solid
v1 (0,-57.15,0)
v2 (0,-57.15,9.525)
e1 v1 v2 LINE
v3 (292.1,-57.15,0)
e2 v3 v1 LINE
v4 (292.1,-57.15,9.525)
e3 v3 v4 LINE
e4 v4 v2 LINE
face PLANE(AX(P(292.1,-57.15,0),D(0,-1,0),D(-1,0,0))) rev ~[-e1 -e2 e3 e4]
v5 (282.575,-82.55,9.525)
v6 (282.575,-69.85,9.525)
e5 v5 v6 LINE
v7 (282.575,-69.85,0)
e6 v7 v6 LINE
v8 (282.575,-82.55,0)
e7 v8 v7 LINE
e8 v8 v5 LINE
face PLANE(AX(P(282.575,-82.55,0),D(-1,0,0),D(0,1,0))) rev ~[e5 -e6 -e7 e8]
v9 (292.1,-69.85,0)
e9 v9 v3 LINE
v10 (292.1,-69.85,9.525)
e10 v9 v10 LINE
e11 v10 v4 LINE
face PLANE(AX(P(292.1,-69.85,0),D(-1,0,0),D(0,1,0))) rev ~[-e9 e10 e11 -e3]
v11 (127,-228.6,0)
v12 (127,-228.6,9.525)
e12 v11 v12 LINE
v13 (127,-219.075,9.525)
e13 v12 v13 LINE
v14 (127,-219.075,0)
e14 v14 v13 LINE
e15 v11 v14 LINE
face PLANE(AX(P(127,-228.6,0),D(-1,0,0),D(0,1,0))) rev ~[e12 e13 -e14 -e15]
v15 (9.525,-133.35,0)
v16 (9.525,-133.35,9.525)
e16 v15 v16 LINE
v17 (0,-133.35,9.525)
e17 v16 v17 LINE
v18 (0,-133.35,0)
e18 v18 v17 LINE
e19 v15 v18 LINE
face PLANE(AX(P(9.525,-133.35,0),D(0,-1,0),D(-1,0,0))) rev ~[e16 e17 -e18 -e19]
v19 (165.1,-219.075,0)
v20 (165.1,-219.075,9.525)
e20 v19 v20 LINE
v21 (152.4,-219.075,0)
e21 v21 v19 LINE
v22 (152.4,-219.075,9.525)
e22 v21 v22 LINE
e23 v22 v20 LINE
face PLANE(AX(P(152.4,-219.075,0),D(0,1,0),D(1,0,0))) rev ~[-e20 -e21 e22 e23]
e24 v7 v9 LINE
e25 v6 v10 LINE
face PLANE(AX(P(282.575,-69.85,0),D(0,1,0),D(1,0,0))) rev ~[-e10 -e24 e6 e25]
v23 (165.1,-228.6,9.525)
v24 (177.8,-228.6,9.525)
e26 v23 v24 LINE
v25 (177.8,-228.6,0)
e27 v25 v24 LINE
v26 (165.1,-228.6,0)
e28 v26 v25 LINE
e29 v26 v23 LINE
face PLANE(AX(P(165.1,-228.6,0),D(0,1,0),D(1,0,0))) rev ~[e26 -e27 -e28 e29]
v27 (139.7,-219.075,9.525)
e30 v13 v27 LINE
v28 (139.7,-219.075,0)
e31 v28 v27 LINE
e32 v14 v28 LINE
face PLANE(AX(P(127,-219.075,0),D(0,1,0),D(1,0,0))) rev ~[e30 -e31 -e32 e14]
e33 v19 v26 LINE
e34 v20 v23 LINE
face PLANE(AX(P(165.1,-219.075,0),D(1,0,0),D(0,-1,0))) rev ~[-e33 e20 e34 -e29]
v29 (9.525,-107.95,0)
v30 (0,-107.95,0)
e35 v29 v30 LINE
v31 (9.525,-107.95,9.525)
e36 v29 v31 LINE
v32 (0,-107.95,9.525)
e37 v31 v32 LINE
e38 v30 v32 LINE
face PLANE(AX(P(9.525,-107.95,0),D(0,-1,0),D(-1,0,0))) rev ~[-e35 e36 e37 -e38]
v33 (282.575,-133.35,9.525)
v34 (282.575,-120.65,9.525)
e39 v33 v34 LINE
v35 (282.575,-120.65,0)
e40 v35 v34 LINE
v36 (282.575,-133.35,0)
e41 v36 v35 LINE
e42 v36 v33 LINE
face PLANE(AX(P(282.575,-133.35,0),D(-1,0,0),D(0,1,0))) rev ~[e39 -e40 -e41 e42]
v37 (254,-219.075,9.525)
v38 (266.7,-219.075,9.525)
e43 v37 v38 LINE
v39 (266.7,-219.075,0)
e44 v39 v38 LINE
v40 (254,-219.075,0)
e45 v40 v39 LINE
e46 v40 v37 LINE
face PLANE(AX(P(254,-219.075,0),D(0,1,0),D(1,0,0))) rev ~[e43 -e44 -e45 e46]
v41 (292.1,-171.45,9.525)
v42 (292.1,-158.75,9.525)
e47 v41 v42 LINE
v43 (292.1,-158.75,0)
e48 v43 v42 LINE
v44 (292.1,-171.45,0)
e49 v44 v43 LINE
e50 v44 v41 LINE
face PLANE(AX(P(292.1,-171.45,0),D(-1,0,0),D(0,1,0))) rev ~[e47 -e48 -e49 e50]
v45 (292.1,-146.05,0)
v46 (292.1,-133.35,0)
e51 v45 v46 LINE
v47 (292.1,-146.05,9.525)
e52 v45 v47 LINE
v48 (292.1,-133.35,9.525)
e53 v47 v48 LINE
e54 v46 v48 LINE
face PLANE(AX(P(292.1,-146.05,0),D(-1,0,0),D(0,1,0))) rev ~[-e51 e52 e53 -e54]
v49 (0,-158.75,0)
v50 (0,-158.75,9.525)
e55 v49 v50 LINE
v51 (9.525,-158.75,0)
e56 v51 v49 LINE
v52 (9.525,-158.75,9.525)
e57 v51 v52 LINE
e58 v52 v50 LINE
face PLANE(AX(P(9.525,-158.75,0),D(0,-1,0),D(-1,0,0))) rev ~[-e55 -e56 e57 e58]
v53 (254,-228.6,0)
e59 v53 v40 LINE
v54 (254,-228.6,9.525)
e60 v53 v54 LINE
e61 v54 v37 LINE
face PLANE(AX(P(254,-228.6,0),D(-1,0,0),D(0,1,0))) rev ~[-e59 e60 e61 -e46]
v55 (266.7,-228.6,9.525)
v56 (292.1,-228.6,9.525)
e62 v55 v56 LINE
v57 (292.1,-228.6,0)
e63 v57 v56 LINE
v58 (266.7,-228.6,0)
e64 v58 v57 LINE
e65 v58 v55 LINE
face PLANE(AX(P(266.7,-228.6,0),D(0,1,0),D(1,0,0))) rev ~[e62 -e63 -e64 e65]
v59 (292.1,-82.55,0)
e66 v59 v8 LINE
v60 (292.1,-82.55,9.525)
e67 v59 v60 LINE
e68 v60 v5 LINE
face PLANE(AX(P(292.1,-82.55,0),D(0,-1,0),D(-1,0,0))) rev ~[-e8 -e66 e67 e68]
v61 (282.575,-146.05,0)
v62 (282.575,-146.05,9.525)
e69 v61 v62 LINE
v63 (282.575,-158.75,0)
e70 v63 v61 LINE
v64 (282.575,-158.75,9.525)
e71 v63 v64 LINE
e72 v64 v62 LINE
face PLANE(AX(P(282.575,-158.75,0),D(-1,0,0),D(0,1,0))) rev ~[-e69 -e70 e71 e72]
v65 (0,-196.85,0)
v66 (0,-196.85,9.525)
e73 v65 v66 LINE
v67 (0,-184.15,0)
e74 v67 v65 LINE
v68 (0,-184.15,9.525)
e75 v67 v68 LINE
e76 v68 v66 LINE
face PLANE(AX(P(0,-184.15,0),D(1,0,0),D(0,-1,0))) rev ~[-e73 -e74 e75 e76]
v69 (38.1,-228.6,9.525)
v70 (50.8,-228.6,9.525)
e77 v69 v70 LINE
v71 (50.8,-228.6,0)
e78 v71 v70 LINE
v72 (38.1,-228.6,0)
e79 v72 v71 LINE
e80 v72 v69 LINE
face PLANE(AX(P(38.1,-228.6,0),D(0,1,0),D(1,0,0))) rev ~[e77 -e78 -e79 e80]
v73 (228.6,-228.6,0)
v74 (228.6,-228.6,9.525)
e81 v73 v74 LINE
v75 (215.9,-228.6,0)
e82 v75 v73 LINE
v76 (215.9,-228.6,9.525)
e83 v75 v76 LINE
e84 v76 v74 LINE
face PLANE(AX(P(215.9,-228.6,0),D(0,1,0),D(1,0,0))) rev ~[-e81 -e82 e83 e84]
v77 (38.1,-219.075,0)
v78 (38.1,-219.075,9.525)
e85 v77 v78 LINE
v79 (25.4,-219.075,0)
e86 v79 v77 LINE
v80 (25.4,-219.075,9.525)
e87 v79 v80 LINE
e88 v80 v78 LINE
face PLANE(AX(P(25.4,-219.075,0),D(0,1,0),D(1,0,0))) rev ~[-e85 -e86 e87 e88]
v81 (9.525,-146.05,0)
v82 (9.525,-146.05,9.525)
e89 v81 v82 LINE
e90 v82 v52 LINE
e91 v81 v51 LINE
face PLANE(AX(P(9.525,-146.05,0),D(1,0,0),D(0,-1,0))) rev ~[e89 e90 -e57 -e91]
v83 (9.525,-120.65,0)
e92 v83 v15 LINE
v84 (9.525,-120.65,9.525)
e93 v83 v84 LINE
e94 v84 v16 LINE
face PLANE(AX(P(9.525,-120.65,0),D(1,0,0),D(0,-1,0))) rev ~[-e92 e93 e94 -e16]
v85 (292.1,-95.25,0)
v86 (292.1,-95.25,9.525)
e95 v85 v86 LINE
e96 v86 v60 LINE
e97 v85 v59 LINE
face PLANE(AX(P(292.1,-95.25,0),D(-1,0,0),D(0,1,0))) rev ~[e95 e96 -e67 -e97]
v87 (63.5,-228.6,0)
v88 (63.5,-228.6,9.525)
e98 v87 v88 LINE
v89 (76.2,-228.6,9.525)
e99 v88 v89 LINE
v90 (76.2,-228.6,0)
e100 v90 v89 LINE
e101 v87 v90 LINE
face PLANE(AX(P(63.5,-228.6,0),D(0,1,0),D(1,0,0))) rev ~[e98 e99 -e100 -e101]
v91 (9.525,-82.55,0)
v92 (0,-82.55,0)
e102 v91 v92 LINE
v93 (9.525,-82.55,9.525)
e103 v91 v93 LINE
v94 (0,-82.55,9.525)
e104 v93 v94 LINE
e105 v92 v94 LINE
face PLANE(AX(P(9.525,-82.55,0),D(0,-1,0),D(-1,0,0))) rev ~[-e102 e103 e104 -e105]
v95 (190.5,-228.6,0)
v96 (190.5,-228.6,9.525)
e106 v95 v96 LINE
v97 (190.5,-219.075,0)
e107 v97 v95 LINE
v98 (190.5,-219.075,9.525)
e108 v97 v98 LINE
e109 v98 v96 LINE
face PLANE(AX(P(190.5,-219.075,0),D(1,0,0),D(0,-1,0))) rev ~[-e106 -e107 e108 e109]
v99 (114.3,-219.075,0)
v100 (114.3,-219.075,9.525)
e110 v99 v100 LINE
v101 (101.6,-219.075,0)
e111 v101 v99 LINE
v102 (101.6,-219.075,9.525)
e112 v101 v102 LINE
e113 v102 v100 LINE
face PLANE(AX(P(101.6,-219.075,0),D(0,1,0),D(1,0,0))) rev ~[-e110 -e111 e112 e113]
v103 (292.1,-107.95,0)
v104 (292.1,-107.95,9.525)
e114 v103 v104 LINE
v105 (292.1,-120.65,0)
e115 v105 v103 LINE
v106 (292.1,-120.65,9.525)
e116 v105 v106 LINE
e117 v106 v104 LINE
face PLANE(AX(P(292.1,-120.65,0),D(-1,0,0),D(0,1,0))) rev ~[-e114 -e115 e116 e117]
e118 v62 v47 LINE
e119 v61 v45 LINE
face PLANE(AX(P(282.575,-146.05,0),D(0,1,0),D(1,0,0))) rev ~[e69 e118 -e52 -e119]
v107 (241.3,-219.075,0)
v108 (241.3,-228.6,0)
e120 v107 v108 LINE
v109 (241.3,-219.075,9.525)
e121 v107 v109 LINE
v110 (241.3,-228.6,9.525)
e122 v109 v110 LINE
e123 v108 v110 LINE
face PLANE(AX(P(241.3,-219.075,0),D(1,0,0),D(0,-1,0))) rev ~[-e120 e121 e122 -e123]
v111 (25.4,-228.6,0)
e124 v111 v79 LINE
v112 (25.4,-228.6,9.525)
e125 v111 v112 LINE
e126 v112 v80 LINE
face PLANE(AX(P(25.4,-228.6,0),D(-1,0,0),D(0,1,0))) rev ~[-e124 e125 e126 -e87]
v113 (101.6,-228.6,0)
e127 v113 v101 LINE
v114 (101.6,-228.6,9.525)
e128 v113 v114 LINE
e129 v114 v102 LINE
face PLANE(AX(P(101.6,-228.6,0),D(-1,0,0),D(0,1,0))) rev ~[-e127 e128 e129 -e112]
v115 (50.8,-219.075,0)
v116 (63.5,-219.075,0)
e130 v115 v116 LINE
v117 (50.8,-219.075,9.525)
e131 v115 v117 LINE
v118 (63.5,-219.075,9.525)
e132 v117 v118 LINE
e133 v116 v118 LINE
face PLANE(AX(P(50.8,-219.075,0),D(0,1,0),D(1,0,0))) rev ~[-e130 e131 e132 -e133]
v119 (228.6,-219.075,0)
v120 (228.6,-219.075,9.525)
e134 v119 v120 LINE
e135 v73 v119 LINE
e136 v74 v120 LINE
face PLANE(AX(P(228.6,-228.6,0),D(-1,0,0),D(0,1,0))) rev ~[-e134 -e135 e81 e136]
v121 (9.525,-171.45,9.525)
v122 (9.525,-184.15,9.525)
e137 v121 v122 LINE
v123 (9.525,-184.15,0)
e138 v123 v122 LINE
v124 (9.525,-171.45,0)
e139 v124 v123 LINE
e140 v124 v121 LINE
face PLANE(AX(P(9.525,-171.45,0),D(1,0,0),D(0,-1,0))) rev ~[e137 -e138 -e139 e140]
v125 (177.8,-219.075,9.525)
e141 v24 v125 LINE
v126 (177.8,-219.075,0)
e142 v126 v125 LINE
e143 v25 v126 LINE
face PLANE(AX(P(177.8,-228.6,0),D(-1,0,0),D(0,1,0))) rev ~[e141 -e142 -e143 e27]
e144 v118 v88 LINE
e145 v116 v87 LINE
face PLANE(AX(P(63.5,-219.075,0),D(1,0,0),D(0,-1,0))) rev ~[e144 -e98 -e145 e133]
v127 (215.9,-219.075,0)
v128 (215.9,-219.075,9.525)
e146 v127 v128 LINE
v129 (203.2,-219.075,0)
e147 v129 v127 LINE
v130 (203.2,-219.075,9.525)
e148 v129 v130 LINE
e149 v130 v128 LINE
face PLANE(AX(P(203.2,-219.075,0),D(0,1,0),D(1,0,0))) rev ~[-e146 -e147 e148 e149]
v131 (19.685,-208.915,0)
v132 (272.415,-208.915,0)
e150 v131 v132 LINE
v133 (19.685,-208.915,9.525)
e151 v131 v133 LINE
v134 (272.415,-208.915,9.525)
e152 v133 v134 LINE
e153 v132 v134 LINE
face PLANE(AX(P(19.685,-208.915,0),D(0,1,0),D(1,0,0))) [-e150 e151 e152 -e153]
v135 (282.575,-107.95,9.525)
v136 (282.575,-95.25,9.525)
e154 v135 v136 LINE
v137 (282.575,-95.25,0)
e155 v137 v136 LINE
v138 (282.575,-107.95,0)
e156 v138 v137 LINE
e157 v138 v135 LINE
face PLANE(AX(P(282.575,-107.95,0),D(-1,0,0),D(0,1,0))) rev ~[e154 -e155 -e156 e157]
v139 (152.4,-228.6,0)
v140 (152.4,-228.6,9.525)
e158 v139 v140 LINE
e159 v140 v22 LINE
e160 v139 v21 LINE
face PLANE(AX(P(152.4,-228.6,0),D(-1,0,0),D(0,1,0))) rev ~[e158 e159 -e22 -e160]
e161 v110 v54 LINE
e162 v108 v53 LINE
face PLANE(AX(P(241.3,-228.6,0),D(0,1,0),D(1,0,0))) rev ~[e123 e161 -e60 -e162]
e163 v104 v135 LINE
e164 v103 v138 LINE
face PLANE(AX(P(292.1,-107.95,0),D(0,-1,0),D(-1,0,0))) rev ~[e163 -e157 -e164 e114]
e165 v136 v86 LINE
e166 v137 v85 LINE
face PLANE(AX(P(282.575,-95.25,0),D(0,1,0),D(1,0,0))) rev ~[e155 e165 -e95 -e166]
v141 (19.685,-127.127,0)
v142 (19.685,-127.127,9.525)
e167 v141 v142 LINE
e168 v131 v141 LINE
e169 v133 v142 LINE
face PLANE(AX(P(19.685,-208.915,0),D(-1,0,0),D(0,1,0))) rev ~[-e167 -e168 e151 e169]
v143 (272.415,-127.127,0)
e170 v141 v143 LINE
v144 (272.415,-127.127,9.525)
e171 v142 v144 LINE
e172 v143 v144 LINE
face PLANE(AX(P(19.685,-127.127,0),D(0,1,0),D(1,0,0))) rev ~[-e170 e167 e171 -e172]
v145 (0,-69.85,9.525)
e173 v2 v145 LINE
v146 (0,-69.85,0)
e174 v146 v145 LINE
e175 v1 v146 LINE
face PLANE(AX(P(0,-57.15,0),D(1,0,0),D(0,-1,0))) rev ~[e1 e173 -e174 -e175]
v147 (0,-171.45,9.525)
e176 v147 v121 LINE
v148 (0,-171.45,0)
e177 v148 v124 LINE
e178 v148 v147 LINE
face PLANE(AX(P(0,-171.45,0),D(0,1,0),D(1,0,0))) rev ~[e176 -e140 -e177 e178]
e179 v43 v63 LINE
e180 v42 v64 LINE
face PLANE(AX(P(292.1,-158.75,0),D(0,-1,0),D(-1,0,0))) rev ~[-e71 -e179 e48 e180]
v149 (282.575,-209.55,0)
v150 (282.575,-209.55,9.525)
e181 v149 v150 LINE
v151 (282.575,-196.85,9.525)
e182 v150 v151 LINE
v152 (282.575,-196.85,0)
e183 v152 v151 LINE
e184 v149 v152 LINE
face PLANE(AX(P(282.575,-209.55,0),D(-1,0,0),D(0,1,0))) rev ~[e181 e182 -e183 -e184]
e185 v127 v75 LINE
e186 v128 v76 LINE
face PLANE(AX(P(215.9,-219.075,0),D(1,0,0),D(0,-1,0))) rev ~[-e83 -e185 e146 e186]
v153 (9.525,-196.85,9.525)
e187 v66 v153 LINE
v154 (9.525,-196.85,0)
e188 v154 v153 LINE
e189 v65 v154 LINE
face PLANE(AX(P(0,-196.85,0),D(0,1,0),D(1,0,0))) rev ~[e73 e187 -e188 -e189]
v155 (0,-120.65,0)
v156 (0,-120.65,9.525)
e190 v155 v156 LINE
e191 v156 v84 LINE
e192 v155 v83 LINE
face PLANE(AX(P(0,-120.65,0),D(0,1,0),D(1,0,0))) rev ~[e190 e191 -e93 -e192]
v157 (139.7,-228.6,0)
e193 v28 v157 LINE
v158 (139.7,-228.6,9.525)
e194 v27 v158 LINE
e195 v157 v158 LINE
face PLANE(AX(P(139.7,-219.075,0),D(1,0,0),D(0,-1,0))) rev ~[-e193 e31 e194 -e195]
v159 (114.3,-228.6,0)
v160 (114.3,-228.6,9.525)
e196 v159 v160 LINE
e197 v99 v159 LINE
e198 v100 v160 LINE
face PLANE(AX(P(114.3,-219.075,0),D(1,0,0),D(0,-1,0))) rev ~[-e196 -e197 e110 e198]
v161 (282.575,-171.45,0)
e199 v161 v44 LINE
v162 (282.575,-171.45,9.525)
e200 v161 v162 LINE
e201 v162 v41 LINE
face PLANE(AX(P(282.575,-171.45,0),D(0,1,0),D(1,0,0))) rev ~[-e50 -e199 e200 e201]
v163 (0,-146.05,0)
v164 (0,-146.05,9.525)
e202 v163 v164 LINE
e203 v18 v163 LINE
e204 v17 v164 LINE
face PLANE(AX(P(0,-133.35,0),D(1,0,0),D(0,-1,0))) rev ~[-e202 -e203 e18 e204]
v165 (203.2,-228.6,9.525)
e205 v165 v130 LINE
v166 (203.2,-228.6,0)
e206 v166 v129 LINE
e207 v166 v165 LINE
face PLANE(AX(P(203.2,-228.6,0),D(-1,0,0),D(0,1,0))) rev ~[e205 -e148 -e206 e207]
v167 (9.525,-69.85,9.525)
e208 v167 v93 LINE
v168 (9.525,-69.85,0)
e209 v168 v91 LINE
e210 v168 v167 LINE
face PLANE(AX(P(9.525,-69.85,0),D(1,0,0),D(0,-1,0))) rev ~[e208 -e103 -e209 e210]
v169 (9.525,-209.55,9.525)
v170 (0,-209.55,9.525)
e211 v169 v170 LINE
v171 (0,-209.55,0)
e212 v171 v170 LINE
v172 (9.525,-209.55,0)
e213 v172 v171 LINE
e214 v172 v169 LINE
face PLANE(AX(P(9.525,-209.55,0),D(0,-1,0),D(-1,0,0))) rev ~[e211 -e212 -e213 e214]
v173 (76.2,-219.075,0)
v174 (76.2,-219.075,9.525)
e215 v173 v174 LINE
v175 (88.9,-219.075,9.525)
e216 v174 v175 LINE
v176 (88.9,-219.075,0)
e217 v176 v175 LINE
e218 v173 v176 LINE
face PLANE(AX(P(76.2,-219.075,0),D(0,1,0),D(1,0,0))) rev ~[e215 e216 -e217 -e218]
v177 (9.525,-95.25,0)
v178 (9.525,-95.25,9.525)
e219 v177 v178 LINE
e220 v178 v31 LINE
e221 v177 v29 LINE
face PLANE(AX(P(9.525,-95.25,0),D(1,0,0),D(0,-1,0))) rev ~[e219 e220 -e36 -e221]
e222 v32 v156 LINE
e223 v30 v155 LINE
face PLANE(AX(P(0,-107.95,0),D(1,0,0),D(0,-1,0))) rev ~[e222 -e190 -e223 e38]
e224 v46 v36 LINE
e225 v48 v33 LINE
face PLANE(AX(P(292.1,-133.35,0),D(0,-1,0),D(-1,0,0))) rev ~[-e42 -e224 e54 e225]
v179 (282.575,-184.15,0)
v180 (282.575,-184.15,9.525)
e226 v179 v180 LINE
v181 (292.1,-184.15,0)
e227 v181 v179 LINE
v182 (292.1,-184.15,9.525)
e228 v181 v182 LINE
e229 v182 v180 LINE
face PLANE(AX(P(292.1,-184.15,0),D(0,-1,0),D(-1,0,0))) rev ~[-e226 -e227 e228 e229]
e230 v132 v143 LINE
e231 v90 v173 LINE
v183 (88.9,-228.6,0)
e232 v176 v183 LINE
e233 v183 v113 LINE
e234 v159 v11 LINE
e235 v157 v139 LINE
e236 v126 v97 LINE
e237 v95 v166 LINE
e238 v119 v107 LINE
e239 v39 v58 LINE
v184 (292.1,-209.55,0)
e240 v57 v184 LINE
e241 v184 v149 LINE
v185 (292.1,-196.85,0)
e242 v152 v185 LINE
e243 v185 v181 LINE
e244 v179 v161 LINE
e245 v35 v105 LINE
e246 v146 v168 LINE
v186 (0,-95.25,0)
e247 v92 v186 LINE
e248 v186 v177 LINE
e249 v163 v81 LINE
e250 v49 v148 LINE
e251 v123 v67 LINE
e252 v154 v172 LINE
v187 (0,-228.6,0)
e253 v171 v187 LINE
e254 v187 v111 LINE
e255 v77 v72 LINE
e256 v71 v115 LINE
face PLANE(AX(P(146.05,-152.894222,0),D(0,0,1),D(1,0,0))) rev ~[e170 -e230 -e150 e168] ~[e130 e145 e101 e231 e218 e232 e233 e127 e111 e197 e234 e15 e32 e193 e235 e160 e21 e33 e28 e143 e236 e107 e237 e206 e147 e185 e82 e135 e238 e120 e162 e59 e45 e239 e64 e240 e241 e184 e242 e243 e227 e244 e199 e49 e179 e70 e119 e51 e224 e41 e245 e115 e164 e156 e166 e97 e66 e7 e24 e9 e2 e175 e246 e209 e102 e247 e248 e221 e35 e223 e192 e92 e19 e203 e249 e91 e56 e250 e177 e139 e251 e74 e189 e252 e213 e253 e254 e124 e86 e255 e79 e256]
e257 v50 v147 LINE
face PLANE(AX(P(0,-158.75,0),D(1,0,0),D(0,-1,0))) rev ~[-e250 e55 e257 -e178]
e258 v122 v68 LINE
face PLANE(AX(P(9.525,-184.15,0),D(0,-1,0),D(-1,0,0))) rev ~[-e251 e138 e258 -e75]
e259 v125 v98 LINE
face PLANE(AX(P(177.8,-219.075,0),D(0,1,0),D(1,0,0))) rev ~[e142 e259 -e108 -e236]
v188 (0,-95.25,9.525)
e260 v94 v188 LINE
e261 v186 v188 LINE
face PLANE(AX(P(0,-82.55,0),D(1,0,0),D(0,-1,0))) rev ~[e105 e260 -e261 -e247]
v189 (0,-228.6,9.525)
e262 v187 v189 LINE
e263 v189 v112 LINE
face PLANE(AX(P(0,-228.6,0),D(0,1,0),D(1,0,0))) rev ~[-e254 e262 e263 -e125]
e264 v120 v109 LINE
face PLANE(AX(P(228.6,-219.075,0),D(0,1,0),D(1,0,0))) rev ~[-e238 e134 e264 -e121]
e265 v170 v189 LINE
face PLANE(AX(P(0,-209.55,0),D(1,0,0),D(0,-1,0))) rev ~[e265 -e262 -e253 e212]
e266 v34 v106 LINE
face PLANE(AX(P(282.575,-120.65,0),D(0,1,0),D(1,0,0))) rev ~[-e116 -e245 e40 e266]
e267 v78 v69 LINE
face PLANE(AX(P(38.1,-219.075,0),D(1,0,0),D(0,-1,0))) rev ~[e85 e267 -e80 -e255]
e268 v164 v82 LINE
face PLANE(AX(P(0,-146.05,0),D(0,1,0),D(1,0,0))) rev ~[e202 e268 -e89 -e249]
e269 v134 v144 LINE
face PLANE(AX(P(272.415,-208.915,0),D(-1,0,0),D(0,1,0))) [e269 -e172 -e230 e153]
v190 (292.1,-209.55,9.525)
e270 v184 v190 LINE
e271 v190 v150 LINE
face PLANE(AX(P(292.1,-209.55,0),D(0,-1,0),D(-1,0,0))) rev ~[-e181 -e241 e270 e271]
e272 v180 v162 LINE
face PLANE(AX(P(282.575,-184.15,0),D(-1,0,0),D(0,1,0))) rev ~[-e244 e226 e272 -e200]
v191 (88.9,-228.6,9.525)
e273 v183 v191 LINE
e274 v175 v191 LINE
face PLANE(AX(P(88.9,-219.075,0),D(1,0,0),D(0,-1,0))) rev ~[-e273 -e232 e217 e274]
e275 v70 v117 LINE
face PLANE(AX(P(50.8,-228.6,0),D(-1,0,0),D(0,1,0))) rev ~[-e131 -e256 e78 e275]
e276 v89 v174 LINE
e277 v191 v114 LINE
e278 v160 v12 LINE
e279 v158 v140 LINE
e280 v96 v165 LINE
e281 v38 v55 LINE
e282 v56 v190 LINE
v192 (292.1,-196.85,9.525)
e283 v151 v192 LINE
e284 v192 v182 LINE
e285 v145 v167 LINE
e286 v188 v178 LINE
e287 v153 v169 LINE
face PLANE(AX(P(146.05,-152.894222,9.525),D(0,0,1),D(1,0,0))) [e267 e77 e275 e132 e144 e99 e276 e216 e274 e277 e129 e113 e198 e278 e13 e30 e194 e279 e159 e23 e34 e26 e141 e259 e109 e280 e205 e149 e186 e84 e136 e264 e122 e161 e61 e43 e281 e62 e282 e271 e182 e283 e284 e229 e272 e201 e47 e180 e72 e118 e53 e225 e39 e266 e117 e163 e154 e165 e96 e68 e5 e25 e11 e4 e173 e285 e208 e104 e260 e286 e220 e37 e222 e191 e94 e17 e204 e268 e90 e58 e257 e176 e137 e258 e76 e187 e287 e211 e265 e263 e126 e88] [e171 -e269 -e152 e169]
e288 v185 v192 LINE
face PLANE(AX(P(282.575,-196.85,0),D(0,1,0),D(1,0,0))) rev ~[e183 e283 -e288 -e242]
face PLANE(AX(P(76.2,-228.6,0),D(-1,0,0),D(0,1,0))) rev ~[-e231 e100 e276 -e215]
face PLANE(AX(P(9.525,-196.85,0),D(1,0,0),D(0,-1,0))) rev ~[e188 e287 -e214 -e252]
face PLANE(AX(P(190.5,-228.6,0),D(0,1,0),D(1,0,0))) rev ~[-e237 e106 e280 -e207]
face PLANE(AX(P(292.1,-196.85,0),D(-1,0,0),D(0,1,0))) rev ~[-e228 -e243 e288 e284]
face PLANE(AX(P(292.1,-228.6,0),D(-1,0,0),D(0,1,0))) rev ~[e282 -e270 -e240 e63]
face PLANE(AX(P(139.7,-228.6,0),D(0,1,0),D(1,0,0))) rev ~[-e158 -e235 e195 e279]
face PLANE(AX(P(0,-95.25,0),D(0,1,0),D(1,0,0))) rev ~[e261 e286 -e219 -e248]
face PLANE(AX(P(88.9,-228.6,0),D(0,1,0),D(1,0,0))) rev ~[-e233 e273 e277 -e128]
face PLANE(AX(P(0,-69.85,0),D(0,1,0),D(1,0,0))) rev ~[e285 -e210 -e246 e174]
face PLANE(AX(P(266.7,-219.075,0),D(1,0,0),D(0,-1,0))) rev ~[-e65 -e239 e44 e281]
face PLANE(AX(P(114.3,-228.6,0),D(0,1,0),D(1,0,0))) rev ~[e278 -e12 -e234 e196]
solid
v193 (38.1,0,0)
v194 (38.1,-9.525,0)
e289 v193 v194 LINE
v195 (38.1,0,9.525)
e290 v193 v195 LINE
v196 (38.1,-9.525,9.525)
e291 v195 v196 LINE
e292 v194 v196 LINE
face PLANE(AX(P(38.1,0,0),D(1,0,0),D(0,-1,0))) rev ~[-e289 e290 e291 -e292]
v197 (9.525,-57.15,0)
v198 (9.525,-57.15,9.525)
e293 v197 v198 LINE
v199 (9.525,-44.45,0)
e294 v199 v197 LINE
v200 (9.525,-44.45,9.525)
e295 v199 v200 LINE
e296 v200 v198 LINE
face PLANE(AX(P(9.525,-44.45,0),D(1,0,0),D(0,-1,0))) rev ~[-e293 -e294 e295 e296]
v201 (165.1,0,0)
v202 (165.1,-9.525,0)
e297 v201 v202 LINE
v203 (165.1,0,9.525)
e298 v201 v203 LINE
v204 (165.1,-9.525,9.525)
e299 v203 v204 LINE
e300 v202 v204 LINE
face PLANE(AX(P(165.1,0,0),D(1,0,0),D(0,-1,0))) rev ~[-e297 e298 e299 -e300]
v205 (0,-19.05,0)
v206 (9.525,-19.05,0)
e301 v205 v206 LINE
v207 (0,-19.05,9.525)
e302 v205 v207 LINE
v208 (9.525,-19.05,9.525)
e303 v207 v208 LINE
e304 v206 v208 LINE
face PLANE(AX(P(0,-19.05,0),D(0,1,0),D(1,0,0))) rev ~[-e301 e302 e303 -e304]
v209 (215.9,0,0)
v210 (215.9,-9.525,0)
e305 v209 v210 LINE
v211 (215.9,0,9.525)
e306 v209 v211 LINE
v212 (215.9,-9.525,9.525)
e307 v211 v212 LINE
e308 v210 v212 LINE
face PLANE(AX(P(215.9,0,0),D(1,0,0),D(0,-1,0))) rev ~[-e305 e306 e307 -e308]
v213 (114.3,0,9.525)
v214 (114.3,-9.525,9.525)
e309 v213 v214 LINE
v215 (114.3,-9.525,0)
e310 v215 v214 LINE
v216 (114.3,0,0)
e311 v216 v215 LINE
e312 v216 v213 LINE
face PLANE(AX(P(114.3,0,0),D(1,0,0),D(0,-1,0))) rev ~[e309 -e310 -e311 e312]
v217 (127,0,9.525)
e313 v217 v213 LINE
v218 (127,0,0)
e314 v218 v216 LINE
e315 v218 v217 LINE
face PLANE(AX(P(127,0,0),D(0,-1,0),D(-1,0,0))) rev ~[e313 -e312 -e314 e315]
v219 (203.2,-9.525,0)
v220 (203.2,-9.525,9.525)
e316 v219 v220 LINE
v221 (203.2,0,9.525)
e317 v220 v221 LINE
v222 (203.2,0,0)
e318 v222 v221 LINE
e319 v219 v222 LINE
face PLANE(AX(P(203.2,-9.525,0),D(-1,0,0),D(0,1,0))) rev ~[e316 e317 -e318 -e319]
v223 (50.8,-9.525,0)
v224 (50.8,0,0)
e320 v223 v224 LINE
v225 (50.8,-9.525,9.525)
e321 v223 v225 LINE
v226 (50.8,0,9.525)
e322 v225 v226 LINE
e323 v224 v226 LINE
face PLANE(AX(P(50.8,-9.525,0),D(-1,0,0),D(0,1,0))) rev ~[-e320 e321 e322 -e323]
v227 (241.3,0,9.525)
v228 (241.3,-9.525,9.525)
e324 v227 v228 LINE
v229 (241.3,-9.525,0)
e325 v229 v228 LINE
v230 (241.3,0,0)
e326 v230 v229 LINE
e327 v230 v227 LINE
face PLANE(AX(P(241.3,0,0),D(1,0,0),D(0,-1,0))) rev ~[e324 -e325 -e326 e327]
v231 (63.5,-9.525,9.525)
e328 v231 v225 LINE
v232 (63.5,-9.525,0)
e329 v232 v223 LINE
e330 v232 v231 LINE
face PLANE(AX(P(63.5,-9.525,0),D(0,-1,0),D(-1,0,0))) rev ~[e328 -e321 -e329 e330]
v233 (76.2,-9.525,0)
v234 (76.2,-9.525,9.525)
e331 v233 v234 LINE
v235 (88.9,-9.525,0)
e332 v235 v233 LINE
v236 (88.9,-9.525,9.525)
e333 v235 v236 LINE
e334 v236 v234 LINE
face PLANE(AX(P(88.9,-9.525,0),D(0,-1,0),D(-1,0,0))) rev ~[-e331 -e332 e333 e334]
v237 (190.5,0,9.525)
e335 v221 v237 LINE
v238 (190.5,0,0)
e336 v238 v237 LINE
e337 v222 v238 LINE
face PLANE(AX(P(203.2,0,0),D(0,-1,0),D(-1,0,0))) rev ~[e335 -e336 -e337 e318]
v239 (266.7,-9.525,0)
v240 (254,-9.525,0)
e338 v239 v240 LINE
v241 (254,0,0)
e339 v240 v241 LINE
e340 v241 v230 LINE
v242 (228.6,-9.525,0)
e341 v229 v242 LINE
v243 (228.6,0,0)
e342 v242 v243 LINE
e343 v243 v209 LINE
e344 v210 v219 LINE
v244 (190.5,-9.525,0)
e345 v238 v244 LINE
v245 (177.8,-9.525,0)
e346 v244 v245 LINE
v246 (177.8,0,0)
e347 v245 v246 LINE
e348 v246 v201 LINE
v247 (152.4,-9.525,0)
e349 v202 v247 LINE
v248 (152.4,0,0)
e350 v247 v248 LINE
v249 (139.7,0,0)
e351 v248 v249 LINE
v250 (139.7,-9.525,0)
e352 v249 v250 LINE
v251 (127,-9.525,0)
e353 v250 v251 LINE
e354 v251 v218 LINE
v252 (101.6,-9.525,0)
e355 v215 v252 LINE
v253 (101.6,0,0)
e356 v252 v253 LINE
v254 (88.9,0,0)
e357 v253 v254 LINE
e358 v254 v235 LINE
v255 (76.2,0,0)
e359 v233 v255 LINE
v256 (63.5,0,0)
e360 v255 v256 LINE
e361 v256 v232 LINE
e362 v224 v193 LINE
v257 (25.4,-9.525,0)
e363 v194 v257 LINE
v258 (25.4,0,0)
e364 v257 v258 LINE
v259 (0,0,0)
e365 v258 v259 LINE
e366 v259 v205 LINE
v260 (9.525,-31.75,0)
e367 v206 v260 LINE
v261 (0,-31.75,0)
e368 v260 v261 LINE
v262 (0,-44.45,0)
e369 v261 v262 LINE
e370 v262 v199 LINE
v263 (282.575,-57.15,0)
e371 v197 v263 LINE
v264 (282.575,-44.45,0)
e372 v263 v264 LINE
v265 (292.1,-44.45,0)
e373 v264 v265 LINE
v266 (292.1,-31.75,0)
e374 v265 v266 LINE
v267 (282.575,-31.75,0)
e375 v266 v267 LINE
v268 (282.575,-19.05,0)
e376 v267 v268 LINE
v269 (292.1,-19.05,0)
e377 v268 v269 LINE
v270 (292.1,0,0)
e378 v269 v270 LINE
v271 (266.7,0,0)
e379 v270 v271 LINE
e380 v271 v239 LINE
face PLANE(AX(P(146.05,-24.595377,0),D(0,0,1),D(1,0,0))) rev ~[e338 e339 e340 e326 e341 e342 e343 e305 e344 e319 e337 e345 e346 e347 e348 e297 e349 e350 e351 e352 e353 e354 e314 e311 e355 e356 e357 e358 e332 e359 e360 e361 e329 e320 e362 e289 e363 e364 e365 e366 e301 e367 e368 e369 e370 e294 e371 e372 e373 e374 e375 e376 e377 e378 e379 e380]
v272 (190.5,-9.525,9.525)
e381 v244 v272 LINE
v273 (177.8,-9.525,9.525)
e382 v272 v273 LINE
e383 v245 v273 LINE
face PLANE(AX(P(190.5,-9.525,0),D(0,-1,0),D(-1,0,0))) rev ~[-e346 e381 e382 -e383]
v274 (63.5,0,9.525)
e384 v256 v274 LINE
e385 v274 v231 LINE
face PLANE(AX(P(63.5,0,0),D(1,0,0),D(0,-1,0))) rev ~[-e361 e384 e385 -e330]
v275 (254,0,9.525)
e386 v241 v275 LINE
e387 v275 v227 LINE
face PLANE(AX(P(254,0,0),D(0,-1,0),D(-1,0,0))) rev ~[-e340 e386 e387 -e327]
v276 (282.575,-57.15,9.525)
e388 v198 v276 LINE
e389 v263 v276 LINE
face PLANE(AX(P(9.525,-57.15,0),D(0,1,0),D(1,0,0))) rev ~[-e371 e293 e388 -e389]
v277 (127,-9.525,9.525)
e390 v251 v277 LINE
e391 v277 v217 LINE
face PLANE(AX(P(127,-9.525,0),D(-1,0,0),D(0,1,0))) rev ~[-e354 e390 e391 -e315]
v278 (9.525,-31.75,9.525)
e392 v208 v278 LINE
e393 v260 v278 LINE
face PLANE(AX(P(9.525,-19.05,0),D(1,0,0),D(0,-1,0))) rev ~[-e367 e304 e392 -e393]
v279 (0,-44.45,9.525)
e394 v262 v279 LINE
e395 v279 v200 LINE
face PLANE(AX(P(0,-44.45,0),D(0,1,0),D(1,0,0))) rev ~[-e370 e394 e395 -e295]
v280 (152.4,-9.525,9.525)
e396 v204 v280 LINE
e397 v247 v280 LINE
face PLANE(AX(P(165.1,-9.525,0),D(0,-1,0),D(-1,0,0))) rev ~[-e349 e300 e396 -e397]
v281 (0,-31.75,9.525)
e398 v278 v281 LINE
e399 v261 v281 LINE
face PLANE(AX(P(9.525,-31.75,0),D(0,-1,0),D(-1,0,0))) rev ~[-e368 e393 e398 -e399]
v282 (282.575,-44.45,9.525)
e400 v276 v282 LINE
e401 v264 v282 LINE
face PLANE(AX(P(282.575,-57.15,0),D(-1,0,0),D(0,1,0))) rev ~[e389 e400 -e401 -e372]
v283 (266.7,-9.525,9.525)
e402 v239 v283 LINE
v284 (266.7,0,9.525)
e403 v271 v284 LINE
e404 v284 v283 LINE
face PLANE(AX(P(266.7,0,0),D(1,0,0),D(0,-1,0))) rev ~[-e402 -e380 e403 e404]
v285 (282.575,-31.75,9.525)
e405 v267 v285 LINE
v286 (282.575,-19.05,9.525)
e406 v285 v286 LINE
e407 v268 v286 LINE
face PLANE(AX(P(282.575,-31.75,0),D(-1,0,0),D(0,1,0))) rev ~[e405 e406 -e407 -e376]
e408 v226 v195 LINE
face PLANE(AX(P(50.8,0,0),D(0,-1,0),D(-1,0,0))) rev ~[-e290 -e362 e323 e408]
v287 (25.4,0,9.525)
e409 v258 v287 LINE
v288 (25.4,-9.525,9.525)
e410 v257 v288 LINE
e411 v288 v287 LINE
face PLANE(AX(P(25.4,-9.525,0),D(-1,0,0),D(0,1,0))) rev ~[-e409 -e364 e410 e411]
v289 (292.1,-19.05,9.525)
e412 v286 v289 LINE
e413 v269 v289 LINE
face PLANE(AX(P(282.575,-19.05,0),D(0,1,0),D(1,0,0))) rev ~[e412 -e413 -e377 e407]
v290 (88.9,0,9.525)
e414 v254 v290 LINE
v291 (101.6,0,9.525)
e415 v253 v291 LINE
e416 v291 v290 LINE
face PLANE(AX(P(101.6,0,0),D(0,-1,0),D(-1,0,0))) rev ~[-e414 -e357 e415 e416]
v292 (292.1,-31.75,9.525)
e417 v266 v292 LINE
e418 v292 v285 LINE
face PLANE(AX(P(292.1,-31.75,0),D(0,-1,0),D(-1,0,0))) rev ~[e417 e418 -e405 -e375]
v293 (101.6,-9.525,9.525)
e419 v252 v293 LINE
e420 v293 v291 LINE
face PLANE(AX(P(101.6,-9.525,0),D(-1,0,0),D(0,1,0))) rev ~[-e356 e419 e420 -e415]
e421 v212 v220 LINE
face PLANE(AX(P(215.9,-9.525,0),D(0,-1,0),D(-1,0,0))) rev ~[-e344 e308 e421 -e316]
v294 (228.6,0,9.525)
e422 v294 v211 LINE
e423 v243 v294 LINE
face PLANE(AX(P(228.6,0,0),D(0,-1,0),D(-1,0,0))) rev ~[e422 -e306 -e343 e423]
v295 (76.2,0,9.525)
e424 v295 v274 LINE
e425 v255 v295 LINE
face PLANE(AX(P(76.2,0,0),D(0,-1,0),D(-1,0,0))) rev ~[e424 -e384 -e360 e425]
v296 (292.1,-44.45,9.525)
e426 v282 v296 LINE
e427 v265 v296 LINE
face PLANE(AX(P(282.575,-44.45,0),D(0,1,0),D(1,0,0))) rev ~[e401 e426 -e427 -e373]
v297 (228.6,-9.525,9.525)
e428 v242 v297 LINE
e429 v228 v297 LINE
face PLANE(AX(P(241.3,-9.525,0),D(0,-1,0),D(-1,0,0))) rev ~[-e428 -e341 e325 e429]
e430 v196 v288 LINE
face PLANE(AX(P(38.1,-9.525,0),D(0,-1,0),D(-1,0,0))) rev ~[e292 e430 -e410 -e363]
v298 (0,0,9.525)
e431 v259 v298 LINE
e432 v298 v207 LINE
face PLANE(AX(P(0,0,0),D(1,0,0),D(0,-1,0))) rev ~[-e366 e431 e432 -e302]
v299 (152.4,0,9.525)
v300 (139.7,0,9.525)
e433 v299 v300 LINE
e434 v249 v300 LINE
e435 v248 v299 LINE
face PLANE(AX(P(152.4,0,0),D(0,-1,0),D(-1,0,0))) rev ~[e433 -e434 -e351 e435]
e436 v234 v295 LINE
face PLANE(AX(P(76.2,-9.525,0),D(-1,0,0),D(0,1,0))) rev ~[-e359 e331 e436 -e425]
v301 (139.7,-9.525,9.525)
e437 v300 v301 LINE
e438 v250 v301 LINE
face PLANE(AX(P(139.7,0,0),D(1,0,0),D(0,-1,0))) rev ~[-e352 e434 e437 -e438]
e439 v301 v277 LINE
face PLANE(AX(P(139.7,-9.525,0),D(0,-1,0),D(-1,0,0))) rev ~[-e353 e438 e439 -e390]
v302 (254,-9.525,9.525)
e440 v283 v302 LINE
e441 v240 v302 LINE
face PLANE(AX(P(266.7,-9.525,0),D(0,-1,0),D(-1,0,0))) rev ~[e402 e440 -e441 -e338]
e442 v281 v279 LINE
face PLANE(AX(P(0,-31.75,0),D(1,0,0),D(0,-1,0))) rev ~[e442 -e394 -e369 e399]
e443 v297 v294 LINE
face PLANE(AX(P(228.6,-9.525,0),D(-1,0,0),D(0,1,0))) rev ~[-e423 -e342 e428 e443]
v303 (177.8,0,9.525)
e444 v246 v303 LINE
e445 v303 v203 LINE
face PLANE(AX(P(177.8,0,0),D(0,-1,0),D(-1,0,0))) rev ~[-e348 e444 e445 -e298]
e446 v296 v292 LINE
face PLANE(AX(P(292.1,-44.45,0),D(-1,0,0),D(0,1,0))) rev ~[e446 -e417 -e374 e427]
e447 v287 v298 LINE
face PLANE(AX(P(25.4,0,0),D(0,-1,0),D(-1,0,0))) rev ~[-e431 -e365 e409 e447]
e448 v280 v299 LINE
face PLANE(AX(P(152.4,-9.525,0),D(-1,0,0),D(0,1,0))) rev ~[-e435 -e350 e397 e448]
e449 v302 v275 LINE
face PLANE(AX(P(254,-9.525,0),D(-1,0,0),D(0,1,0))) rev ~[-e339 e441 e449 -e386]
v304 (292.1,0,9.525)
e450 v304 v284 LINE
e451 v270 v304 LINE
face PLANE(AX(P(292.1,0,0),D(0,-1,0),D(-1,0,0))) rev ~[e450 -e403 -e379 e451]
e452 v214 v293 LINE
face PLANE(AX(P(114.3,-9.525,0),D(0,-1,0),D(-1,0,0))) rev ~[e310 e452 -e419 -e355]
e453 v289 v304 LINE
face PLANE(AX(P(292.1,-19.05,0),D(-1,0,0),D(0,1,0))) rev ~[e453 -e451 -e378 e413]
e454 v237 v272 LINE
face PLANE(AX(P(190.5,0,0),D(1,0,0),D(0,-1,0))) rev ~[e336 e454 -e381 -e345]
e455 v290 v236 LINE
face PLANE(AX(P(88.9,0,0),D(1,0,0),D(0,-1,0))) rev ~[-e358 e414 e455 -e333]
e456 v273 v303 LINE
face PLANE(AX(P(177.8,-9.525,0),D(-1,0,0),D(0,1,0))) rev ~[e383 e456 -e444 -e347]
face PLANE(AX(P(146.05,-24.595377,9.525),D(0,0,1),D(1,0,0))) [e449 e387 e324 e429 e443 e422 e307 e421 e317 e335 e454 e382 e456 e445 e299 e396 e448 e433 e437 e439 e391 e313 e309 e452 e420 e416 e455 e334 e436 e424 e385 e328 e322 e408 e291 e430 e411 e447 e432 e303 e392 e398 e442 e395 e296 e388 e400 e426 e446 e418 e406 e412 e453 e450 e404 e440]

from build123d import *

# Parameters (mm, degrees)
F1_DEPTH = 9.525
F0_W     = 252.73
F0_H     = 81.788
F2_DEPTH = 9.525


with BuildPart() as f1:
    # F0 (on Top) → F1 (new body)
    with BuildSketch(Plane.XY):
        Polygon((25.4, 0), (0, 0), (0, -19.05), (9.525, -19.05), (9.525, -31.75), (0, -31.75), (0, -44.45), (9.525, -44.45), (9.525, -57.15), (282.575, -57.15), (282.575, -44.45), (292.1, -44.45), (292.1, -31.75), (282.575, -31.75), (282.575, -19.05), (292.1, -19.05), (292.1, 0), (266.7, 0), (266.7, -9.525), (254, -9.525), (254, 0), (241.3, 0), (241.3, -9.525), (228.6, -9.525), (228.6, 0), (215.9, 0), (215.9, -9.525), (203.2, -9.525), (203.2, 0), (190.5, 0), (190.5, -9.525), (177.8, -9.525), (177.8, 0), (165.1, 0), (165.1, -9.525), (152.4, -9.525), (152.4, 0), (139.7, 0), (139.7, -9.525), (127, -9.525), (127, 0), (114.3, 0), (114.3, -9.525), (101.6, -9.525), (101.6, 0), (88.9, 0), (88.9, -9.525), (76.2, -9.525), (76.2, 0), (63.5, 0), (63.5, -9.525), (50.8, -9.525), (50.8, 0), (38.1, 0), (38.1, -9.525), (25.4, -9.525), align=None)
    extrude(amount=F1_DEPTH)


with BuildPart() as f2:
    # F0 (on Top) → F2 (new body)
    with BuildSketch(Plane.XY):
        Polygon((282.575, -57.15), (9.525, -57.15), (0, -57.15), (0, -69.85), (9.525, -69.85), (9.525, -82.55), (0, -82.55), (0, -95.25), (9.525, -95.25), (9.525, -107.95), (0, -107.95), (0, -120.65), (9.525, -120.65), (9.525, -133.35), (0, -133.35), (0, -146.05), (9.525, -146.05), (9.525, -158.75), (0, -158.75), (0, -171.45), (9.525, -171.45), (9.525, -184.15), (0, -184.15), (0, -196.85), (9.525, -196.85), (9.525, -209.55), (0, -209.55), (0, -228.6), (25.4, -228.6), (25.4, -219.075), (38.1, -219.075), (38.1, -228.6), (50.8, -228.6), (50.8, -219.075), (63.5, -219.075), (63.5, -228.6), (76.2, -228.6), (76.2, -219.075), (88.9, -219.075), (88.9, -228.6), (101.6, -228.6), (101.6, -219.075), (114.3, -219.075), (114.3, -228.6), (127, -228.6), (127, -219.075), (139.7, -219.075), (139.7, -228.6), (152.4, -228.6), (152.4, -219.075), (165.1, -219.075), (165.1, -228.6), (177.8, -228.6), (177.8, -219.075), (190.5, -219.075), (190.5, -228.6), (203.2, -228.6), (203.2, -219.075), (215.9, -219.075), (215.9, -228.6), (228.6, -228.6), (228.6, -219.075), (241.3, -219.075), (241.3, -228.6), (254, -228.6), (254, -219.075), (266.7, -219.075), (266.7, -228.6), (292.1, -228.6), (292.1, -209.55), (282.575, -209.55), (282.575, -196.85), (292.1, -196.85), (292.1, -184.15), (282.575, -184.15), (282.575, -171.45), (292.1, -171.45), (292.1, -158.75), (282.575, -158.75), (282.575, -146.05), (292.1, -146.05), (292.1, -133.35), (282.575, -133.35), (282.575, -120.65), (292.1, -120.65), (292.1, -107.95), (282.575, -107.95), (282.575, -95.25), (292.1, -95.25), (292.1, -82.55), (282.575, -82.55), (282.575, -69.85), (292.1, -69.85), (292.1, -57.15), align=None)
        with Locations((146.05, -168.021)):
            Rectangle(F0_W, F0_H, mode=Mode.SUBTRACT)
    extrude(amount=F2_DEPTH)


solid = Compound([f1.part, f2.part])
